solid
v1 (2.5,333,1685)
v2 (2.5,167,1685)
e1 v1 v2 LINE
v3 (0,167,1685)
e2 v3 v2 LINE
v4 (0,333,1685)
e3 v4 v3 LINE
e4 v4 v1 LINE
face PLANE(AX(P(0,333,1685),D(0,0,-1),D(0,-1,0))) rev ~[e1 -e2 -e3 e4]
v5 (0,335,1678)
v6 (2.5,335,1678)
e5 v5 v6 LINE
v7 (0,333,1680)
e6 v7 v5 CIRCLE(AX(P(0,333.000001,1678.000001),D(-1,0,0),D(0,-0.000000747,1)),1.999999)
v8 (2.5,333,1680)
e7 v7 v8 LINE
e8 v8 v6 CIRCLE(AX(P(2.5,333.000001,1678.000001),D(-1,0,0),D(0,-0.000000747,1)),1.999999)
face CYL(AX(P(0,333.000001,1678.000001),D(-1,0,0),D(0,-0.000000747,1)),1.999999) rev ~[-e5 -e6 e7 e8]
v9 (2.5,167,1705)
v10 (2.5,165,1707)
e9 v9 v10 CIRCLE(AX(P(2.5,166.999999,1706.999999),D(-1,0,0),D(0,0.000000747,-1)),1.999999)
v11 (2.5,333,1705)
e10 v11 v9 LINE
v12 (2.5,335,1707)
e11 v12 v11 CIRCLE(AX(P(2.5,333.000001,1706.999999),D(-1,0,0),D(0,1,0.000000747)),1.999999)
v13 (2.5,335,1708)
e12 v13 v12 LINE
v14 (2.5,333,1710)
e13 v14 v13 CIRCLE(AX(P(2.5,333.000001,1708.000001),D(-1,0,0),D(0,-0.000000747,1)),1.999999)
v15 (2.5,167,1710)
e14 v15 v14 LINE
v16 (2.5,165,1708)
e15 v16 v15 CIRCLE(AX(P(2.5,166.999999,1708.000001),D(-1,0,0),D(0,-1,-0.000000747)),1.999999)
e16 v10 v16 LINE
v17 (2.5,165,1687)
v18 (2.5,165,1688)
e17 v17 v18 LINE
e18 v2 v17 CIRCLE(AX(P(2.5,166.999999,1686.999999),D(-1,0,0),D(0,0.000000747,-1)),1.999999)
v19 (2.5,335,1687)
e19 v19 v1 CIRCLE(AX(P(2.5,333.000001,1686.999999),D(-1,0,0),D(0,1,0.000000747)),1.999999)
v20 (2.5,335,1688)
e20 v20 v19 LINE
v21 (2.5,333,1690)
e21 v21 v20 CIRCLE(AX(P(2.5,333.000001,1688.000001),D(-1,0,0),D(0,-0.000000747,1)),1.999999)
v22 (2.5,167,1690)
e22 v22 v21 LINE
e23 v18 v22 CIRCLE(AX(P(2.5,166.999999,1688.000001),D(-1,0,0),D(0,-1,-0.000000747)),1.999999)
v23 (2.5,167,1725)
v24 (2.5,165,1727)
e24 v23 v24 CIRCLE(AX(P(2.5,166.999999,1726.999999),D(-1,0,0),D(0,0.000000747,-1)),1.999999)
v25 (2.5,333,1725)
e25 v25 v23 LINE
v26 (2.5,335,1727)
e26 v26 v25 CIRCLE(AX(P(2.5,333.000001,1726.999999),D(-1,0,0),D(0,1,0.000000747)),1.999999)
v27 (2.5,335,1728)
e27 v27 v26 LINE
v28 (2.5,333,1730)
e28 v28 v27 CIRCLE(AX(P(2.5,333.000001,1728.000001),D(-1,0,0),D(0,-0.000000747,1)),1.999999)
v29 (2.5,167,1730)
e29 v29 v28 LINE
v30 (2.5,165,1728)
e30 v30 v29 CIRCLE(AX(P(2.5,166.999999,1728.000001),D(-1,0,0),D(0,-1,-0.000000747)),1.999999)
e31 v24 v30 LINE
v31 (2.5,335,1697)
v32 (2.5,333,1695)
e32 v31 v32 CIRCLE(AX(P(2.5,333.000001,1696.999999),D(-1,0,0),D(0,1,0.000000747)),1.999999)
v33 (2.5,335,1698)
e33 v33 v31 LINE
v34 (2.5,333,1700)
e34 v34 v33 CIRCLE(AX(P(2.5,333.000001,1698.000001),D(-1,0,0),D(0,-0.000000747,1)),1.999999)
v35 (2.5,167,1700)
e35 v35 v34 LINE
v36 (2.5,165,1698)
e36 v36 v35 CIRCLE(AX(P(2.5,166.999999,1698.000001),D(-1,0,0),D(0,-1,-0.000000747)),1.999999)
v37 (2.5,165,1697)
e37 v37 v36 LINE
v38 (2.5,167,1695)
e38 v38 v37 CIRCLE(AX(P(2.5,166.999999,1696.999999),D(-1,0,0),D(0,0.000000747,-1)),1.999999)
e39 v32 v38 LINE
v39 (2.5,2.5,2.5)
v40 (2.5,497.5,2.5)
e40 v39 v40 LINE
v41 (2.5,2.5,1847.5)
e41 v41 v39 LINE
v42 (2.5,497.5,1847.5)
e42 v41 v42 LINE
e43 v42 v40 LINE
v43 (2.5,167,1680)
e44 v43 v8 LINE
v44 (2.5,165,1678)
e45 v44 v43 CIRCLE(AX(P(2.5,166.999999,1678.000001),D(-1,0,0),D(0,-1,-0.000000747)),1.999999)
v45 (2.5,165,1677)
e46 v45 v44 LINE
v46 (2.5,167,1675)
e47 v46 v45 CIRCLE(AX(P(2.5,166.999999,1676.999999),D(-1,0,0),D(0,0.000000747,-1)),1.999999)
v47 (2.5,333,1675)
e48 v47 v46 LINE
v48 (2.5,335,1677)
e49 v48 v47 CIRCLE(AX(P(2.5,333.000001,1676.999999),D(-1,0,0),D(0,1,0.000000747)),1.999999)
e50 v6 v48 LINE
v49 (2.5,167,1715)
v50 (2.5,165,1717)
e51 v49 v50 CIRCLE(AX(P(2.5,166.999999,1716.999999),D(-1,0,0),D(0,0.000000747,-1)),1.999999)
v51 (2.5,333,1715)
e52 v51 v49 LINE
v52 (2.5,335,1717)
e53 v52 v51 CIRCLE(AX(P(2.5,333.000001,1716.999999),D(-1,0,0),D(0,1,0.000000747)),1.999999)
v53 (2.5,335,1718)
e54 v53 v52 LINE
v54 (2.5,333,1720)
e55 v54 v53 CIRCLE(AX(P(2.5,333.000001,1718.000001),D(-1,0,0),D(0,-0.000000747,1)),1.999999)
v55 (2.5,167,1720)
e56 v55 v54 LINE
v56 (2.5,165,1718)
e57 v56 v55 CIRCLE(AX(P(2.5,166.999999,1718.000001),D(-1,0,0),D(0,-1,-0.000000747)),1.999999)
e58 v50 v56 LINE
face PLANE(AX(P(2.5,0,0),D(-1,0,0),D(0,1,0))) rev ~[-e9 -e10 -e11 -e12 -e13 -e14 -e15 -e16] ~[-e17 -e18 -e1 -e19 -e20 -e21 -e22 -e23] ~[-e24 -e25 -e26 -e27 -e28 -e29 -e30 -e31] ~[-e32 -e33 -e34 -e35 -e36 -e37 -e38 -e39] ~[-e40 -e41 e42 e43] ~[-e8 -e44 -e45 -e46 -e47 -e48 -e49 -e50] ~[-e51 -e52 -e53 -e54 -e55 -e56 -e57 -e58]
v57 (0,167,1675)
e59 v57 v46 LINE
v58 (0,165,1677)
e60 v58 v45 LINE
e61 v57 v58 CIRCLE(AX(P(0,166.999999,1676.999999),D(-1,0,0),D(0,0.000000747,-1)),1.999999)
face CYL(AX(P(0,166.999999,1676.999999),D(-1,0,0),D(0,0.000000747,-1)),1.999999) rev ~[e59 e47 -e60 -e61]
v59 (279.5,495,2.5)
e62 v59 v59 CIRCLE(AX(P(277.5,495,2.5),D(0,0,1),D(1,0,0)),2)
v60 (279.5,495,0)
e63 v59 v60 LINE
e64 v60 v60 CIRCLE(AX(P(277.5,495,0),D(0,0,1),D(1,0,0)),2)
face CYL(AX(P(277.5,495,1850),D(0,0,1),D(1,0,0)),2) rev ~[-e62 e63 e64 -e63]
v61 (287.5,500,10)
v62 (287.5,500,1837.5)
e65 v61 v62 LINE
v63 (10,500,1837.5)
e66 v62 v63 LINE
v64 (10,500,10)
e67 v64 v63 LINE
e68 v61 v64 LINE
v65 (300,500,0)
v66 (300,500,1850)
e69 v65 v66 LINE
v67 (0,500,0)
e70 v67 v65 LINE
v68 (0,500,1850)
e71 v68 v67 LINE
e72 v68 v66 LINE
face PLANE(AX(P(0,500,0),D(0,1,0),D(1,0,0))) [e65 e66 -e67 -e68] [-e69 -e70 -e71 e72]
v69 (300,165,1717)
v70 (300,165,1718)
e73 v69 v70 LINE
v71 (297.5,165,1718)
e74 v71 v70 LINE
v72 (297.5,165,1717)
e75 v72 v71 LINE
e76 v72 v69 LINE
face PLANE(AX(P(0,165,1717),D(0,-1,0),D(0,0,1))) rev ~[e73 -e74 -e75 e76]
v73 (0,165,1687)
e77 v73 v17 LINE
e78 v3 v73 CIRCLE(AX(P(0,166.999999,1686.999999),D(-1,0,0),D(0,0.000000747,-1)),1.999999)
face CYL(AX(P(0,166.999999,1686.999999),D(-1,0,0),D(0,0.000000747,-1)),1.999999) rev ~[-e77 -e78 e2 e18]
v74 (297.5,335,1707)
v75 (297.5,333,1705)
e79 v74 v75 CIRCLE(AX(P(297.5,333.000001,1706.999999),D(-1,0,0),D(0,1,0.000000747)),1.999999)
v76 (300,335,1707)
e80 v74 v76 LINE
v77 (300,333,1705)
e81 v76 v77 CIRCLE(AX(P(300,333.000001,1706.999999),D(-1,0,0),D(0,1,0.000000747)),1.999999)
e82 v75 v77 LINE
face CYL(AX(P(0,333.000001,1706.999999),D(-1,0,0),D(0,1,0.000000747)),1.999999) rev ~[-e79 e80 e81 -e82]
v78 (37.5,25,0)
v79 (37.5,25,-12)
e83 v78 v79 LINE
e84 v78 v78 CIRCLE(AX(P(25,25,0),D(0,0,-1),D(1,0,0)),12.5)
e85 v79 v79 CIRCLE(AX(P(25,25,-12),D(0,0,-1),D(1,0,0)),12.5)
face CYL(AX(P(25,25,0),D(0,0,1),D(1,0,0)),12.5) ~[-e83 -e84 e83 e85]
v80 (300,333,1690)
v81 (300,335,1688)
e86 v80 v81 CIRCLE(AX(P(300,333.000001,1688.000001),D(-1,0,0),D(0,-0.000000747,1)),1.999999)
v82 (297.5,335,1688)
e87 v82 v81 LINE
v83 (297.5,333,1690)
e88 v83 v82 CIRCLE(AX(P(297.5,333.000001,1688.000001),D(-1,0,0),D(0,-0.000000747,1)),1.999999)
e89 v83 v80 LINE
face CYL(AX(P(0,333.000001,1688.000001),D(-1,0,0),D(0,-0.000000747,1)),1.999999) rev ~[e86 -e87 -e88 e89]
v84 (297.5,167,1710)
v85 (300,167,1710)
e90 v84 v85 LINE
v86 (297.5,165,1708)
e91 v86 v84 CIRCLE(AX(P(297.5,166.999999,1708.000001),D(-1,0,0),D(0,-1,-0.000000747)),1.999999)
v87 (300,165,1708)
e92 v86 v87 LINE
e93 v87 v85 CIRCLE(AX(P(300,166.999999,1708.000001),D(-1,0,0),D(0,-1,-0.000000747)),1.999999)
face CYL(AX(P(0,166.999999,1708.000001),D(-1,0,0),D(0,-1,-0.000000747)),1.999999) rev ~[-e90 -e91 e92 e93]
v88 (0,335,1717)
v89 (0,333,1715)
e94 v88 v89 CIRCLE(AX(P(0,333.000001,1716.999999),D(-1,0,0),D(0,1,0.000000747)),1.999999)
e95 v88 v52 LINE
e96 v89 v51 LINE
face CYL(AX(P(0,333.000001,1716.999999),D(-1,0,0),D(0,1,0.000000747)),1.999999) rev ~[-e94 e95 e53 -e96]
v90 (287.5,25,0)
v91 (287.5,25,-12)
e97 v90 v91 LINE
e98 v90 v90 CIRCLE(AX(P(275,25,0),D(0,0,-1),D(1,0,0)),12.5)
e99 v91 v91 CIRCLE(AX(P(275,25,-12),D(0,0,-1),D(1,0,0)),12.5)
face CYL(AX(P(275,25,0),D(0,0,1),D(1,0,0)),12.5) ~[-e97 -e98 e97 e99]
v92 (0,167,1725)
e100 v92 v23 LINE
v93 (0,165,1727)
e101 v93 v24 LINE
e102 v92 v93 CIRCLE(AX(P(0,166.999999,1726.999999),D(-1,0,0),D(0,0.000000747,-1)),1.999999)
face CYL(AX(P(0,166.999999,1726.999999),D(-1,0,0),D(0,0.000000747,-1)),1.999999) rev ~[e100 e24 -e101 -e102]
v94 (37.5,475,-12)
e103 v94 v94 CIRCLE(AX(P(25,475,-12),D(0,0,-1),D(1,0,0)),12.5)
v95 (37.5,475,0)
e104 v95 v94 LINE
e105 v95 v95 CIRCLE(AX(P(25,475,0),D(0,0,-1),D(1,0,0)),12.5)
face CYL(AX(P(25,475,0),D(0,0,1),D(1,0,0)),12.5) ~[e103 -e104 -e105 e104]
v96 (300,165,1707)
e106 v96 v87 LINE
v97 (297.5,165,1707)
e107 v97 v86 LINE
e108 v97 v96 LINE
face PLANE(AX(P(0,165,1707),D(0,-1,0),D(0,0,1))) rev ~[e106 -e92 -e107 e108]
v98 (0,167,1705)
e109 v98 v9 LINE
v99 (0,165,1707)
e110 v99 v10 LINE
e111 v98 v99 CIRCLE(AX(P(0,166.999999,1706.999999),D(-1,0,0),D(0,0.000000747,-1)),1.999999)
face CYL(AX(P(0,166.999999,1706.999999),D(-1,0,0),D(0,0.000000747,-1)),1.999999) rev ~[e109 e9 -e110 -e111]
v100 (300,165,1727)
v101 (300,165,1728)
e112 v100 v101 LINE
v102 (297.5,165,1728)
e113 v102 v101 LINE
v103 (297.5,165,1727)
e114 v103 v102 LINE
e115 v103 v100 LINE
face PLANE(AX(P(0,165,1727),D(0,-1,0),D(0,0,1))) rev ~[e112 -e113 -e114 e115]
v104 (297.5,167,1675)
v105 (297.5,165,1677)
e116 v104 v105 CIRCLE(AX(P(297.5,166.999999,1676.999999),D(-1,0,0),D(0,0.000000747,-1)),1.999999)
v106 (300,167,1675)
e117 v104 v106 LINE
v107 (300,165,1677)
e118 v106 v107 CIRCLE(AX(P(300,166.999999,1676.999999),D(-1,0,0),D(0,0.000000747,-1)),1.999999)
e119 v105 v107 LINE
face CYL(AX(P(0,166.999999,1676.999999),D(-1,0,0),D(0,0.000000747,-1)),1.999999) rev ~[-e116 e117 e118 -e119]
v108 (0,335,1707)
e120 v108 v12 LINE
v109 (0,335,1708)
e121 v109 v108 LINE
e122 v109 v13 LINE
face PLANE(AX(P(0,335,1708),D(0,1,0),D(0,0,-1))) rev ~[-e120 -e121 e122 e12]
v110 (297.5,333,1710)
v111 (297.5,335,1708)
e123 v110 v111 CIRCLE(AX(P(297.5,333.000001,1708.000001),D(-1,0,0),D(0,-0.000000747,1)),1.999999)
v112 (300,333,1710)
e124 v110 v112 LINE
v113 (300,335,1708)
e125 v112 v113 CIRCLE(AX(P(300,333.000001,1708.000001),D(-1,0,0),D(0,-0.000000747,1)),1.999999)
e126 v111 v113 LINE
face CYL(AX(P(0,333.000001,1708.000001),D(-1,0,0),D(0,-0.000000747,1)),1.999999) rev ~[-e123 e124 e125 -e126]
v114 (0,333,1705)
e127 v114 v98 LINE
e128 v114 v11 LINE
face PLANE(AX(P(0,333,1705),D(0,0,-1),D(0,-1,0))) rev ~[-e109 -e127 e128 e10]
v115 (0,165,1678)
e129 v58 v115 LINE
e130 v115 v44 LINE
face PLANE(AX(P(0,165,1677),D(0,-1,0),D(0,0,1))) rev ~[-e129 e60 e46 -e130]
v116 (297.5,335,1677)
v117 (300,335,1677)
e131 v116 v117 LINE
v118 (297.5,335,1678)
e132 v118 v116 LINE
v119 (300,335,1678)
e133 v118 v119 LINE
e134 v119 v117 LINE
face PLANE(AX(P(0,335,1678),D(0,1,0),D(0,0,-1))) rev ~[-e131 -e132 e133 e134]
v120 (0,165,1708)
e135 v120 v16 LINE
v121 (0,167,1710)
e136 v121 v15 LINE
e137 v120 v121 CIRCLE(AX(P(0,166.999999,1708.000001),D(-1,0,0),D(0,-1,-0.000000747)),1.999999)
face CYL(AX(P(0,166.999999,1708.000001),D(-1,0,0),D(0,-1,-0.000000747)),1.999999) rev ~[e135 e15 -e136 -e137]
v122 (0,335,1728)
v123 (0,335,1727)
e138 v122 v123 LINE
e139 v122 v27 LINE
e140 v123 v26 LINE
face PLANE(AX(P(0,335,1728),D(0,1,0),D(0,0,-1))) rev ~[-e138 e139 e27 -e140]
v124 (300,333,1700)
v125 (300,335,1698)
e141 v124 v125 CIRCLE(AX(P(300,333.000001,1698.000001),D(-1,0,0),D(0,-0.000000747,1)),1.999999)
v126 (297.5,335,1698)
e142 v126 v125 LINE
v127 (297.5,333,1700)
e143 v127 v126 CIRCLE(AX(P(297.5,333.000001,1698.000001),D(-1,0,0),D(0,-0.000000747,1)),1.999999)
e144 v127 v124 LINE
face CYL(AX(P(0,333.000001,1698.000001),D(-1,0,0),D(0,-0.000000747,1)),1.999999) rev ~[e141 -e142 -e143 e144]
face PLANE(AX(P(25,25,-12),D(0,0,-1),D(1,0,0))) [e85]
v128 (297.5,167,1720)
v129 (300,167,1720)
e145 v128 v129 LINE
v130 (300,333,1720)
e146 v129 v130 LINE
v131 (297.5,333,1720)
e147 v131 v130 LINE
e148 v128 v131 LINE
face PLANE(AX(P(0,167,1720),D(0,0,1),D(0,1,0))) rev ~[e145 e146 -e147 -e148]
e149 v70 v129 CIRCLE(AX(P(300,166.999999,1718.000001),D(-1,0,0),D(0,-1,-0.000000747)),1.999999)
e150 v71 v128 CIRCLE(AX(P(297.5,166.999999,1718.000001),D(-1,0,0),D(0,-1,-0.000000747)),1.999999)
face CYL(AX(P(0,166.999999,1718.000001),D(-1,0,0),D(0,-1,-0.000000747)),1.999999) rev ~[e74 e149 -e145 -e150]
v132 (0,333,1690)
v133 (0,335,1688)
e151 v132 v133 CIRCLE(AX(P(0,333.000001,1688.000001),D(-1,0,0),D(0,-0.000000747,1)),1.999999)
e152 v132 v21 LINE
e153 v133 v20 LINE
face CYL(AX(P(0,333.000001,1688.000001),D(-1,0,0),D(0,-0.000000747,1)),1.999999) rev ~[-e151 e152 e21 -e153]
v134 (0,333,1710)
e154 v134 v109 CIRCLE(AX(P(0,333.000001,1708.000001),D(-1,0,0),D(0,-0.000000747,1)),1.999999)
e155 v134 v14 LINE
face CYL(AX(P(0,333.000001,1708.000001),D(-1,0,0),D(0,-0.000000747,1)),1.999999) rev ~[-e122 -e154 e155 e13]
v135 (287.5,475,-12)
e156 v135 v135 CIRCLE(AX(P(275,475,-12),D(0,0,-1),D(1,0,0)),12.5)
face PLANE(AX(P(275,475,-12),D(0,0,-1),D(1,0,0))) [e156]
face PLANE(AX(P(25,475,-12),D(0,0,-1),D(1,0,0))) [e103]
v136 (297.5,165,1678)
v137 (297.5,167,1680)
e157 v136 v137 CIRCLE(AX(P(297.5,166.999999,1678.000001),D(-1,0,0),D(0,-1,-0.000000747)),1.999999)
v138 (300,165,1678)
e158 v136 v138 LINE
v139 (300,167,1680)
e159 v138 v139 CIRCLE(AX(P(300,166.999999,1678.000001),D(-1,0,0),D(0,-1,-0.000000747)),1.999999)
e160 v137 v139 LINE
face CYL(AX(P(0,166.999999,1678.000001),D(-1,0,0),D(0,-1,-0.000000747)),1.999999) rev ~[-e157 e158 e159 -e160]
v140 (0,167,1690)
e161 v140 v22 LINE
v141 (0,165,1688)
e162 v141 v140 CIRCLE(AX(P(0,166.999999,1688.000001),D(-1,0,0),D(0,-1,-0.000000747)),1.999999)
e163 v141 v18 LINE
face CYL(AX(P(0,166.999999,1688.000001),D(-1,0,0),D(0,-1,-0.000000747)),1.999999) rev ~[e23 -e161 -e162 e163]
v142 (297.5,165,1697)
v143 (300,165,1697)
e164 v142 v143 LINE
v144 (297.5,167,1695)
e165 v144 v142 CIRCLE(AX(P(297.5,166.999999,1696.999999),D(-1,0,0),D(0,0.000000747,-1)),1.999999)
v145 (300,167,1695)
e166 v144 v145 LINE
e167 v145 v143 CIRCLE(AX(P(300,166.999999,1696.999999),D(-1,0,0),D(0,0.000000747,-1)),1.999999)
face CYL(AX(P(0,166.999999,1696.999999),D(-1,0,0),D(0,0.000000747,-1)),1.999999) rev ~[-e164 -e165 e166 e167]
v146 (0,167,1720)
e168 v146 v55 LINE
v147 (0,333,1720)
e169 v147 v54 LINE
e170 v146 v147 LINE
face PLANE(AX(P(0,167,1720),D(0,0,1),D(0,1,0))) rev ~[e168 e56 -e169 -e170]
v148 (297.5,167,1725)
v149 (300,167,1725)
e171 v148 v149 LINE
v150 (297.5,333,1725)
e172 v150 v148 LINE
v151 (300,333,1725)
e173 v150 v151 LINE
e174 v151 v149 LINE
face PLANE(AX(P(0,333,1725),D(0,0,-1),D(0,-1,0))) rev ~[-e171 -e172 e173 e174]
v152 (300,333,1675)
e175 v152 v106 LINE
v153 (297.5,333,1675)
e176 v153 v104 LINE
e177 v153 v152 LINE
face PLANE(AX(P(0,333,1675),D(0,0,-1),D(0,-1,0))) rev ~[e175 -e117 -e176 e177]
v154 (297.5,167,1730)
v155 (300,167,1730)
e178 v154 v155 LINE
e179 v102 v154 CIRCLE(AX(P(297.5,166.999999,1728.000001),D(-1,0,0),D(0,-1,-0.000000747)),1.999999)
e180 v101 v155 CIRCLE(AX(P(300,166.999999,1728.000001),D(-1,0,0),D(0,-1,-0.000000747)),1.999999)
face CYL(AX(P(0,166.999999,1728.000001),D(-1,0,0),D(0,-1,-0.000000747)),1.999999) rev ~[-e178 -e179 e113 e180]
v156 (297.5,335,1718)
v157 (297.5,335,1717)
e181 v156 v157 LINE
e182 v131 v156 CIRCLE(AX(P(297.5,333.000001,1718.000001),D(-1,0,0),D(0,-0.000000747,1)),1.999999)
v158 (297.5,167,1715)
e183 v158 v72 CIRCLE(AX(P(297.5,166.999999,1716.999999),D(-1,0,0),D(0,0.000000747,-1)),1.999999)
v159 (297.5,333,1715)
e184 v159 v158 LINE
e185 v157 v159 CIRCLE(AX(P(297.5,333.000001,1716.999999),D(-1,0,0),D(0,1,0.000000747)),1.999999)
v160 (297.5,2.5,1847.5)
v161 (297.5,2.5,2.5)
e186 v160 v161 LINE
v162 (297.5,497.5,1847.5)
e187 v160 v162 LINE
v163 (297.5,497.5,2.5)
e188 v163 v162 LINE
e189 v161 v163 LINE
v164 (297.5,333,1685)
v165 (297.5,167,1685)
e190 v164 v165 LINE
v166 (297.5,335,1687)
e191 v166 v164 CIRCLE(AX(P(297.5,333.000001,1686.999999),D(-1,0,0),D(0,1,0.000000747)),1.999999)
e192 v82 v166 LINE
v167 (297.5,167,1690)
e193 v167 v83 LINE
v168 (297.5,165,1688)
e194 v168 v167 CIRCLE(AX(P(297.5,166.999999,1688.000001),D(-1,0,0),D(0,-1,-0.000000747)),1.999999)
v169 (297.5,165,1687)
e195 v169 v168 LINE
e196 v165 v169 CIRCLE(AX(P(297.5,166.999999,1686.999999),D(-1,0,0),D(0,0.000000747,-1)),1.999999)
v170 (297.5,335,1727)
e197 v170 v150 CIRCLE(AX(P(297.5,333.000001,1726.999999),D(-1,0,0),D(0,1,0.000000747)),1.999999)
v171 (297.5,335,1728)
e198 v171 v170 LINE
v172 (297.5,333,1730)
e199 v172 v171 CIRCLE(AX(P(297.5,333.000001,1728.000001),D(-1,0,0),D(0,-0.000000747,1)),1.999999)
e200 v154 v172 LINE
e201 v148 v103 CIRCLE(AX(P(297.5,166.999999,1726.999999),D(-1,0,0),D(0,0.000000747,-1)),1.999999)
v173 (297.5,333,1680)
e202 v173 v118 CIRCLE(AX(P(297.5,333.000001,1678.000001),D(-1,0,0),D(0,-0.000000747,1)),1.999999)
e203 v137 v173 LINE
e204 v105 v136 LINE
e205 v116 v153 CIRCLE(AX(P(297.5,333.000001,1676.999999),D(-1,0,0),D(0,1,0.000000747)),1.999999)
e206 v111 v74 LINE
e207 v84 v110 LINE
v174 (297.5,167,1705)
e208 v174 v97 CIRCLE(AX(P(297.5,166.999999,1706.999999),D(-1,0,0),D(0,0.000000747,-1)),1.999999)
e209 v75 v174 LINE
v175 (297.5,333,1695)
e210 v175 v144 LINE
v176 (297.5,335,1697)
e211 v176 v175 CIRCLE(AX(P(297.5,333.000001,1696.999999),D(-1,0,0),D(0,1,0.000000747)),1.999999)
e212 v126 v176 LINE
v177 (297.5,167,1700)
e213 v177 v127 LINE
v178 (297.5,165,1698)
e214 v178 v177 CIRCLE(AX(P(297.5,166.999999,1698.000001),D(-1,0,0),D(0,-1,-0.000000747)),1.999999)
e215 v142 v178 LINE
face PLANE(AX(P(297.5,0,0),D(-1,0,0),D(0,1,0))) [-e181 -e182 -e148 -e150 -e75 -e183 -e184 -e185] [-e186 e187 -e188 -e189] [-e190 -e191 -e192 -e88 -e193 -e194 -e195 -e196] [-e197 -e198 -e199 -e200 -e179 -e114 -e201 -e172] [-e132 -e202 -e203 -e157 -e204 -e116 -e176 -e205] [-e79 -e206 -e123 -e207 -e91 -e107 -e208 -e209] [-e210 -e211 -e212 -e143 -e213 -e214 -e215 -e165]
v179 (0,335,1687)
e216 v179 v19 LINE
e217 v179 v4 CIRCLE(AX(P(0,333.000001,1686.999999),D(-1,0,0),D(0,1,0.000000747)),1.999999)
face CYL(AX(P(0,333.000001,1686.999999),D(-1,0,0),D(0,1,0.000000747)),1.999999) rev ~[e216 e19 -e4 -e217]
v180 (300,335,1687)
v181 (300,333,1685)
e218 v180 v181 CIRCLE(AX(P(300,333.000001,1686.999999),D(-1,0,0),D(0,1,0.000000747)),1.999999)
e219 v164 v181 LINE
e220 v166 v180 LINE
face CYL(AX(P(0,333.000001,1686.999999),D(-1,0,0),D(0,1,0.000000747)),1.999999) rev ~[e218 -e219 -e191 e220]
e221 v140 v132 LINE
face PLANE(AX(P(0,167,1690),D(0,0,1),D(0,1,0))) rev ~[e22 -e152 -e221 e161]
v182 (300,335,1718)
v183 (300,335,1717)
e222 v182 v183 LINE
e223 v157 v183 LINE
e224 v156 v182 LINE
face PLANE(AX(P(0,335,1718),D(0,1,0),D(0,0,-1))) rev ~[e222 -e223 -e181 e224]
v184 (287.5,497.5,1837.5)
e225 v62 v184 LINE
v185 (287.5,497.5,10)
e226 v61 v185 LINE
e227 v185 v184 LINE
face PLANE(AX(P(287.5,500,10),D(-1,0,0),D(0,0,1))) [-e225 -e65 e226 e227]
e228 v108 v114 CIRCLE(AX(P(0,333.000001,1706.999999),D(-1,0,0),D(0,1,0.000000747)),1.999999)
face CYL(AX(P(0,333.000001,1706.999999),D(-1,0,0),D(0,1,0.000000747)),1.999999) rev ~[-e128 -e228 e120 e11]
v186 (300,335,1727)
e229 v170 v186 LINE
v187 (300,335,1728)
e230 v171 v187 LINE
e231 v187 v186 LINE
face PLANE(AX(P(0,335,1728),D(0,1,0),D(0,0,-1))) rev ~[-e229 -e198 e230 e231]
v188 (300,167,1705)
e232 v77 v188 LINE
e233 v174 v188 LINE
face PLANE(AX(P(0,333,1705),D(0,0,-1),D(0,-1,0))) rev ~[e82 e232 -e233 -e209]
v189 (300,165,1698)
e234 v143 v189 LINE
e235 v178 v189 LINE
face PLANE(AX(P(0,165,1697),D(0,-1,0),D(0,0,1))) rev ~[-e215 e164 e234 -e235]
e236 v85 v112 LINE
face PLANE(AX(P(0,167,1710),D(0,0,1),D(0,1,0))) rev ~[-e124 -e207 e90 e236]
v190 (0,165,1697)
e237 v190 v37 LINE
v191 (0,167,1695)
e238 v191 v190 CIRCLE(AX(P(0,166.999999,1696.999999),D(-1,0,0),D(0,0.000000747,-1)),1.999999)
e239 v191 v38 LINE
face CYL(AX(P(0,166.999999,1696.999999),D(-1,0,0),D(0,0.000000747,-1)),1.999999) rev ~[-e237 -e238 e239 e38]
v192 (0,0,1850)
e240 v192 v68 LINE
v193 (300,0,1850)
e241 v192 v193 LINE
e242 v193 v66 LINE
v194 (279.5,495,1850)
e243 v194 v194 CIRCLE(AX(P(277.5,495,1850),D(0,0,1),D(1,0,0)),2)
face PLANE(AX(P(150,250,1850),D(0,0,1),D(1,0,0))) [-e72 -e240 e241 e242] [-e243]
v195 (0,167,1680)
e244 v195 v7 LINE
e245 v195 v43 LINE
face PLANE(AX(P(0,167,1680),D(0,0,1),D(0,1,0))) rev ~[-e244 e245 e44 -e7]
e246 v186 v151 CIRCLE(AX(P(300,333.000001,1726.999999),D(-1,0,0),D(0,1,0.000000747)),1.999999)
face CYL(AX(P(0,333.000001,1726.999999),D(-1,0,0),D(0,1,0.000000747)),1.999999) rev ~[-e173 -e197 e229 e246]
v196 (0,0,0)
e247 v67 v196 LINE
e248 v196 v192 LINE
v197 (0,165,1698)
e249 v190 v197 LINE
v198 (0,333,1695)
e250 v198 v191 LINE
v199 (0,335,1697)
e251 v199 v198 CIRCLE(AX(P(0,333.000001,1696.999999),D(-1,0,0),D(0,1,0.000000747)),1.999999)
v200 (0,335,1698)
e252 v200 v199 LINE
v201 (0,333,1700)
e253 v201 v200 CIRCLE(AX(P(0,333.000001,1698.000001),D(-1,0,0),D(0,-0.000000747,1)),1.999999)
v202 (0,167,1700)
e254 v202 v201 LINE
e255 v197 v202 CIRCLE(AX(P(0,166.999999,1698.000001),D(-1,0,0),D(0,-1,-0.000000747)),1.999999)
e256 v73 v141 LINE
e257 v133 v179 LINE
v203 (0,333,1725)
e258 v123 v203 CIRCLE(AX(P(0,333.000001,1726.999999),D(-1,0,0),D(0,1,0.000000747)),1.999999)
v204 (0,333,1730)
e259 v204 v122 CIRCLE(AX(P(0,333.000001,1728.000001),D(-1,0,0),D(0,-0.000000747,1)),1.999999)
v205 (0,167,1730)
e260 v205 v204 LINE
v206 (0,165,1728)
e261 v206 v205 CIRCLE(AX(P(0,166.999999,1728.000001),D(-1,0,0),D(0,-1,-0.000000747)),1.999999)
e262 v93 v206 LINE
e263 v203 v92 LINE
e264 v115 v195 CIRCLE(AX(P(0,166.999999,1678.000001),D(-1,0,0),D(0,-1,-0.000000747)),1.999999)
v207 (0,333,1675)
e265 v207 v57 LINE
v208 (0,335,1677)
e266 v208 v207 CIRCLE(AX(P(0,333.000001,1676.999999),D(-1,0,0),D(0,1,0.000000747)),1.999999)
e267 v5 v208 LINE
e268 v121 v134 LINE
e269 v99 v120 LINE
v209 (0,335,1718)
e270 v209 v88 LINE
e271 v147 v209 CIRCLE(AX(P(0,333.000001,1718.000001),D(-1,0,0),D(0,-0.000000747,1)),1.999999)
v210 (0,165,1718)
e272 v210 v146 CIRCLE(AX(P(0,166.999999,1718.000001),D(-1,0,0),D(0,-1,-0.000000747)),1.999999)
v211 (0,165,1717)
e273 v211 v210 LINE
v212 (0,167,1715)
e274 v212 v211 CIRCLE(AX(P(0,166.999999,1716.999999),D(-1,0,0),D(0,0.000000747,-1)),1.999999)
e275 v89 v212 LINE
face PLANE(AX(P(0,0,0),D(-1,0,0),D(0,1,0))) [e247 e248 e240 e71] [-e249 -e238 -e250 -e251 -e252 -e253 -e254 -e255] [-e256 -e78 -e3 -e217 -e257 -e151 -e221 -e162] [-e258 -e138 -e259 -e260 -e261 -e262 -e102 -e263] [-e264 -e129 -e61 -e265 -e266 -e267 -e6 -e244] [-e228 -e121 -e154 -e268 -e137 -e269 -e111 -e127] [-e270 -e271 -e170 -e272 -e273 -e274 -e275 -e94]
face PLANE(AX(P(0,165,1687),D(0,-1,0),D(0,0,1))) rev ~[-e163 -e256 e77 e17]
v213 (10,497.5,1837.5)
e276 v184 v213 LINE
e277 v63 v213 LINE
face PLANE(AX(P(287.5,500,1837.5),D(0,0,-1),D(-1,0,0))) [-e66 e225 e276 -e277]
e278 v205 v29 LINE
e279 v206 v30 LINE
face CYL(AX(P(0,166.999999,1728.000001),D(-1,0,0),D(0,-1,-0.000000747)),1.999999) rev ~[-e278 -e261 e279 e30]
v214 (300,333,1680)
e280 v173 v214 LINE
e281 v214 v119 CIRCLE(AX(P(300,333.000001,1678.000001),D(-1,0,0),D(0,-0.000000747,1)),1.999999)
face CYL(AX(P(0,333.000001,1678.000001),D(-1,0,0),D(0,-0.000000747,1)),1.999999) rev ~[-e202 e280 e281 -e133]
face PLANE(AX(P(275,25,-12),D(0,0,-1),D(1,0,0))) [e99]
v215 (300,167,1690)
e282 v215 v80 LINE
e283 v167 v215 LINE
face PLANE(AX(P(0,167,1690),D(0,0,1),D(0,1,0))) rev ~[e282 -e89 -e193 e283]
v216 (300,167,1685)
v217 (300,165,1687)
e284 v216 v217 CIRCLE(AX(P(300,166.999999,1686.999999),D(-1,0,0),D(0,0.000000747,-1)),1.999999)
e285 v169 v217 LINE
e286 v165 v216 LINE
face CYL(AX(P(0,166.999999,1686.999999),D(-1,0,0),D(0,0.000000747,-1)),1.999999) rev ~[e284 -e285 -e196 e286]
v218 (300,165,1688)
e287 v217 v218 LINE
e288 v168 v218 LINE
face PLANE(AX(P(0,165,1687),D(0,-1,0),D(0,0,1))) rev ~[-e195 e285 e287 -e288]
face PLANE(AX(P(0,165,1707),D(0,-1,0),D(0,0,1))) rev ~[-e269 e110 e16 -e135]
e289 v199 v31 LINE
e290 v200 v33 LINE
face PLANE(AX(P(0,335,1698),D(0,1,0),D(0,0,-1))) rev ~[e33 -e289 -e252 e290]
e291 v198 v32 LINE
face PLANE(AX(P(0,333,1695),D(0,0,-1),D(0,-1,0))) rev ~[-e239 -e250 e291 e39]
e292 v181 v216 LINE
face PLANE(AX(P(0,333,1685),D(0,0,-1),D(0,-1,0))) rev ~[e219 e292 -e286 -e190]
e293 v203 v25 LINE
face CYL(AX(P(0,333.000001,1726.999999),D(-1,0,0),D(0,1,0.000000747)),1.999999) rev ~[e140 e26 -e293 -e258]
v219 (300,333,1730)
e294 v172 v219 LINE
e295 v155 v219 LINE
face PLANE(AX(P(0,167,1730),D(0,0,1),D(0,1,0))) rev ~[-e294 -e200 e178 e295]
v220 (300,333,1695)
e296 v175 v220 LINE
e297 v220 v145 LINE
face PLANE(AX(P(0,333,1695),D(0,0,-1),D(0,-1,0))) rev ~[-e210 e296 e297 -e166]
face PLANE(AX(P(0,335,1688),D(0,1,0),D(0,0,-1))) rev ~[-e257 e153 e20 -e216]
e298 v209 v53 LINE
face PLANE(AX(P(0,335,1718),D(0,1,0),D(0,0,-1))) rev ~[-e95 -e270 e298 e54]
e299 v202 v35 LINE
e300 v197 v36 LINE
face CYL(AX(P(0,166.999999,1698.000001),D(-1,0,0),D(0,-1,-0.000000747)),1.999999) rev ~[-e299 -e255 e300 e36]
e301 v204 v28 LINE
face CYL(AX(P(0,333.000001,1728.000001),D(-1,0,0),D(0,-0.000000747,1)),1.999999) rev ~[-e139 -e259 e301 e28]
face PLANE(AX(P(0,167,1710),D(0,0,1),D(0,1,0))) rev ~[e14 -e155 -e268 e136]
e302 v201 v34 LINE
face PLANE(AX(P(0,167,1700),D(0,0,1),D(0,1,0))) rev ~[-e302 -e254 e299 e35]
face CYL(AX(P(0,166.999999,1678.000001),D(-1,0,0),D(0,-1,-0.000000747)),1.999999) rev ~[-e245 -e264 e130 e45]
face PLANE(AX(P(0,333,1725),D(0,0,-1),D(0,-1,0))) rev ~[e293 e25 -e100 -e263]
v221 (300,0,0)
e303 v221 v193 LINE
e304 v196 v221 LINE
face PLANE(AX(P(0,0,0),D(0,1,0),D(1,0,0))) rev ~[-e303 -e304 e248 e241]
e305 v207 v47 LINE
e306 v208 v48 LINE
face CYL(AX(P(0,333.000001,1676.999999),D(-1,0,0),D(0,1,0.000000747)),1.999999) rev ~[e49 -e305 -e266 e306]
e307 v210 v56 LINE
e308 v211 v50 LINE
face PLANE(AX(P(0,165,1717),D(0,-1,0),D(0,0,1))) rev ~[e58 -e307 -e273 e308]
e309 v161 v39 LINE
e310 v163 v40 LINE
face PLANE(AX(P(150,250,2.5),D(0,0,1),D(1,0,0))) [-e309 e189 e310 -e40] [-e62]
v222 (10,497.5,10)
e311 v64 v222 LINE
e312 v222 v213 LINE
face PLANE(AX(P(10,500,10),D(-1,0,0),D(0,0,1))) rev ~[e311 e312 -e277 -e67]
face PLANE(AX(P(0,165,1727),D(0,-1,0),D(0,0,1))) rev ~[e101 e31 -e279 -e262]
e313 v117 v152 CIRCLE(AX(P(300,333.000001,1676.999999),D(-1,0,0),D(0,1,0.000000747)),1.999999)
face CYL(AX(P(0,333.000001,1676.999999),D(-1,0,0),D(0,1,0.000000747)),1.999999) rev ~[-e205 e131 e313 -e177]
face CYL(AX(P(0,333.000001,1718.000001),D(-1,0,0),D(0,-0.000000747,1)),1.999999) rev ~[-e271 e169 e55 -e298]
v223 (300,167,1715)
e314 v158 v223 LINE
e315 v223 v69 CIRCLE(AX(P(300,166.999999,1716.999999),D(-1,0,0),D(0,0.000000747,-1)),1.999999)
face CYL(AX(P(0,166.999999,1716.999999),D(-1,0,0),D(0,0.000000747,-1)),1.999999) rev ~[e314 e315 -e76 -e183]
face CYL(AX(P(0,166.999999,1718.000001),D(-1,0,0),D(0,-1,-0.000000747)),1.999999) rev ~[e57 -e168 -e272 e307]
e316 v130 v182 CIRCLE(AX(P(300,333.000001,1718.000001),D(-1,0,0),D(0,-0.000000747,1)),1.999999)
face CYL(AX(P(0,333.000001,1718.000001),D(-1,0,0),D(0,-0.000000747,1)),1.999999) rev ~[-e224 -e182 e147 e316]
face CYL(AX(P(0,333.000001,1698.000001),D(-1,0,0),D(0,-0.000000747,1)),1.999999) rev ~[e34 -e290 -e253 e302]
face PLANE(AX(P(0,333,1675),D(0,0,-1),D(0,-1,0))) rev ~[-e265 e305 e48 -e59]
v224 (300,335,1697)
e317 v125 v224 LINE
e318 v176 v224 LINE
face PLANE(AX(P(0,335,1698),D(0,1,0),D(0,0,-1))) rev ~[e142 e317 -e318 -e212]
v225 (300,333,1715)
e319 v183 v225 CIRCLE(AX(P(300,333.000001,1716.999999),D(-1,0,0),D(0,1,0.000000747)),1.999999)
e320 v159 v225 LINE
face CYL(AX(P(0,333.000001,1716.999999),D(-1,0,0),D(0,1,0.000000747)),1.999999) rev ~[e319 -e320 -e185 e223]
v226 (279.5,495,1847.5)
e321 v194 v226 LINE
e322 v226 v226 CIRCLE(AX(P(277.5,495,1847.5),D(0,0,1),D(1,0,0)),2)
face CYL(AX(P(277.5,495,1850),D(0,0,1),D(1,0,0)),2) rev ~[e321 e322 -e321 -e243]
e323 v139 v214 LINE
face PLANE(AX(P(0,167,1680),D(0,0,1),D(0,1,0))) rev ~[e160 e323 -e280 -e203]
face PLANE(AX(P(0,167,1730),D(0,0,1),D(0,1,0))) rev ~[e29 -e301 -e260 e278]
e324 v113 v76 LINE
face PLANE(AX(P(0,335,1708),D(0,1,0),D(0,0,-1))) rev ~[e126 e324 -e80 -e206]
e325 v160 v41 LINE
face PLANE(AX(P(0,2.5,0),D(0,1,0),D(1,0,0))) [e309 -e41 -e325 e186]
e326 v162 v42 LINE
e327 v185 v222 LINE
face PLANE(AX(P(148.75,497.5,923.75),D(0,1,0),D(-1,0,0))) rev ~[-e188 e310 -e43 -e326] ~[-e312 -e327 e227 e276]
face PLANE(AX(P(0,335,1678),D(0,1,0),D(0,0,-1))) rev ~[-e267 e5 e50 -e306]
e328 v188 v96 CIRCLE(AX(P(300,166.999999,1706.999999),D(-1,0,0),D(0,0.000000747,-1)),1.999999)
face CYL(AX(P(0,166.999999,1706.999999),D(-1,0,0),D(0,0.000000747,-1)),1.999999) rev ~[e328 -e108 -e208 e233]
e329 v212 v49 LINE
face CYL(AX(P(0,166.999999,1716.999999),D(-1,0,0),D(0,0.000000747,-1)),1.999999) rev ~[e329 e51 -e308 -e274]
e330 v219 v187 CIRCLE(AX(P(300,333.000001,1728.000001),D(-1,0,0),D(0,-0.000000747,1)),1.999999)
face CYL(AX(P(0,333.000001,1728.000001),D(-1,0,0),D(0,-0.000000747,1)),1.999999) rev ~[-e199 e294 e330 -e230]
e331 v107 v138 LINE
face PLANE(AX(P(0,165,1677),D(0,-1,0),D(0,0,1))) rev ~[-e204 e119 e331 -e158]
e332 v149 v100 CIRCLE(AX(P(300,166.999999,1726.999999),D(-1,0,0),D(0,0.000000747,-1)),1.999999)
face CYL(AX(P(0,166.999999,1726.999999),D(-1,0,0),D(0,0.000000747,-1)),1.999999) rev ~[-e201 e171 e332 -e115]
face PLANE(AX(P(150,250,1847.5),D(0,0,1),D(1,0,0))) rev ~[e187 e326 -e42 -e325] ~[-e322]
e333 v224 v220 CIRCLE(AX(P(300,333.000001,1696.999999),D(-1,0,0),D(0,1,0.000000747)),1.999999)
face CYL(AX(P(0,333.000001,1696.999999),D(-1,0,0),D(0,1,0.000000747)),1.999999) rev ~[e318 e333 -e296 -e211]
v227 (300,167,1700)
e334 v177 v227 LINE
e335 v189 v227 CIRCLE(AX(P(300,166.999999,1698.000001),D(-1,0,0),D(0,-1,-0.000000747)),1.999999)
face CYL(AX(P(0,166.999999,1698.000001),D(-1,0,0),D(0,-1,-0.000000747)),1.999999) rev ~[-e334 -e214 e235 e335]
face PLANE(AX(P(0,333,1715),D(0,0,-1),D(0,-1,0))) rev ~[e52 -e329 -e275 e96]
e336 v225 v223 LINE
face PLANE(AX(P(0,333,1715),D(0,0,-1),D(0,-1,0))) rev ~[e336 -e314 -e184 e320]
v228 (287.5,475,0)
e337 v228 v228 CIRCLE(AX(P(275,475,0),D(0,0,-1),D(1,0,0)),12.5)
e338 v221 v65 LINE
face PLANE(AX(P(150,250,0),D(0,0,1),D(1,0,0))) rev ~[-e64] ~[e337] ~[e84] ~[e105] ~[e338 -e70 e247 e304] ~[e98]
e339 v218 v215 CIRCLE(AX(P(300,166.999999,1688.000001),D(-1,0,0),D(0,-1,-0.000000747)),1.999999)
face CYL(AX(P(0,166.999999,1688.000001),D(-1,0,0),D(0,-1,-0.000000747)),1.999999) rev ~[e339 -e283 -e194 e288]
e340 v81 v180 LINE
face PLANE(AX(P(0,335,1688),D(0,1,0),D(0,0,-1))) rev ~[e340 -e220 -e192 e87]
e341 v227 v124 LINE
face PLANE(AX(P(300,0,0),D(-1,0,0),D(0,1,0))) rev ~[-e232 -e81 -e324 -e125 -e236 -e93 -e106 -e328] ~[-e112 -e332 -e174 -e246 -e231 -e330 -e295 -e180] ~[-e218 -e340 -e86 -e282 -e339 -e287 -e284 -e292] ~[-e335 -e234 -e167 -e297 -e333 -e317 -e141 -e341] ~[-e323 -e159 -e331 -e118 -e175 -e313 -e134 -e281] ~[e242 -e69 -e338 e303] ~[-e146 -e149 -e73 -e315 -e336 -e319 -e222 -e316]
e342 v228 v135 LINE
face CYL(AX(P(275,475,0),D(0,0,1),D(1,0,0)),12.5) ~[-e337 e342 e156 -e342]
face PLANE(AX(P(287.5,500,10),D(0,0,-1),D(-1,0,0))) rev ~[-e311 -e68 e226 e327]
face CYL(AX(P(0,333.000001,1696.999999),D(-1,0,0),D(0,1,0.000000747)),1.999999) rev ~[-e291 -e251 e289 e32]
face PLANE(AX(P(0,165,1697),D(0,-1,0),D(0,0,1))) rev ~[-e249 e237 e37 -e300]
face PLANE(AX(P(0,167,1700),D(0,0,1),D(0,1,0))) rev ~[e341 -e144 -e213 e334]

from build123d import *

# Parameters (mm, degrees)
F0_W      = 300
F0_H      = 500
F1_DEPTH  = 1850
F2_T      = -2.5
F3_W      = 297.5
F3_H      = 1847.5
F3_W_2    = 277.5
F3_H_2    = 1827.5
F4_DEPTH  = 2.5
F5_R      = 12.5
F6_DEPTH  = 12
F9_DEPTH  = 300.001
F7_R      = 2
F10_DEPTH = 1862.001


with BuildPart() as f1:
    # F0 (on Top) → F1 (new body)
    with BuildSketch(Plane.XY):
        with Locations((150, 250)):
            Rectangle(F0_W, F0_H)
    extrude(amount=F1_DEPTH)

    # F2
    f2_openings = [f1.faces().sort_by_distance(p)[0] for p in [
        (150, 500, 925),
    ]]
    offset(amount=F2_T, openings=f2_openings)

    # F3 (on face) → F4 (join)
    with BuildSketch(Plane(origin=(0, 500, 0), x_dir=(-1, 0, 0), z_dir=(0, 1, 0))):
        with Locations((-148.75, 923.75)):
            Rectangle(F3_W, F3_H)
        with Locations((-148.75, 923.75)):
            Rectangle(F3_W_2, F3_H_2, mode=Mode.SUBTRACT)
    extrude(amount=-F4_DEPTH)

    # F5 (on face) → F6 (join)
    with BuildSketch(Plane(origin=(0, 0, 0), x_dir=(1, 0, 0), z_dir=(0, 0, -1))):
        with Locations((25, -25)):
            Circle(F5_R)
        with Locations((25, -475)):
            Circle(F5_R)
        with Locations((275, -25)):
            Circle(F5_R)
        with Locations((275, -475)):
            Circle(F5_R)
    extrude(amount=F6_DEPTH)

    # F8 (on face) → F9 (cut, through all)
    with BuildSketch(Plane(origin=(0, 0, 0), x_dir=(0, -1, 0), z_dir=(-1, 0, 0))):
        with BuildLine():
            Line((-167, 1730), (-333, 1730))
            ThreePointArc((-333, 1730), (-334.414214, 1729.414214), (-335, 1728))
            Line((-335, 1728), (-335, 1727))
            ThreePointArc((-335, 1727), (-334.414214, 1725.585786), (-333, 1725))
            Line((-333, 1725), (-167, 1725))
            ThreePointArc((-167, 1725), (-165.585786, 1725.585786), (-165, 1727))
            Line((-165, 1727), (-165, 1728))
            ThreePointArc((-165, 1728), (-165.585786, 1729.414214), (-167, 1730))
        make_face()
        with BuildLine():
            ThreePointArc((-335, 1717), (-334.414214, 1715.585786), (-333, 1715))
            Line((-333, 1715), (-167, 1715))
            ThreePointArc((-167, 1715), (-165.585786, 1715.585786), (-165, 1717))
            Line((-165, 1717), (-165, 1718))
            ThreePointArc((-165, 1718), (-165.585786, 1719.414214), (-167, 1720))
            Line((-167, 1720), (-333, 1720))
            ThreePointArc((-333, 1720), (-334.414214, 1719.414214), (-335, 1718))
            Line((-335, 1718), (-335, 1717))
        make_face()
        with BuildLine():
            ThreePointArc((-335, 1707), (-334.414214, 1705.585786), (-333, 1705))
            Line((-333, 1705), (-167, 1705))
            ThreePointArc((-167, 1705), (-165.585786, 1705.585786), (-165, 1707))
            Line((-165, 1707), (-165, 1708))
            ThreePointArc((-165, 1708), (-165.585786, 1709.414214), (-167, 1710))
            Line((-167, 1710), (-333, 1710))
            ThreePointArc((-333, 1710), (-334.414214, 1709.414214), (-335, 1708))
            Line((-335, 1708), (-335, 1707))
        make_face()
        with BuildLine():
            ThreePointArc((-335, 1697), (-334.414214, 1695.585786), (-333, 1695))
            Line((-333, 1695), (-167, 1695))
            ThreePointArc((-167, 1695), (-165.585786, 1695.585786), (-165, 1697))
            Line((-165, 1697), (-165, 1698))
            ThreePointArc((-165, 1698), (-165.585786, 1699.414214), (-167, 1700))
            Line((-167, 1700), (-333, 1700))
            ThreePointArc((-333, 1700), (-334.414214, 1699.414214), (-335, 1698))
            Line((-335, 1698), (-335, 1697))
        make_face()
        with BuildLine():
            ThreePointArc((-335, 1687), (-334.414214, 1685.585786), (-333, 1685))
            Line((-333, 1685), (-167, 1685))
            ThreePointArc((-167, 1685), (-165.585786, 1685.585786), (-165, 1687))
            Line((-165, 1687), (-165, 1688))
            ThreePointArc((-165, 1688), (-165.585786, 1689.414214), (-167, 1690))
            Line((-167, 1690), (-333, 1690))
            ThreePointArc((-333, 1690), (-334.414214, 1689.414214), (-335, 1688))
            Line((-335, 1688), (-335, 1687))
        make_face()
        with BuildLine():
            ThreePointArc((-335, 1677), (-334.414214, 1675.585786), (-333, 1675))
            Line((-333, 1675), (-167, 1675))
            ThreePointArc((-167, 1675), (-165.585786, 1675.585786), (-165, 1677))
            Line((-165, 1677), (-165, 1678))
            ThreePointArc((-165, 1678), (-165.585786, 1679.414214), (-167, 1680))
            Line((-167, 1680), (-333, 1680))
            ThreePointArc((-333, 1680), (-334.414214, 1679.414214), (-335, 1678))
            Line((-335, 1678), (-335, 1677))
        make_face()
    extrude(amount=-F9_DEPTH, mode=Mode.SUBTRACT)

    # F7 (on face) → F10 (cut, through all)
    with BuildSketch(Plane.XY.offset(1850)):
        with Locations((277.5, 495)):
            Circle(F7_R)
    extrude(amount=-F10_DEPTH, mode=Mode.SUBTRACT)


solid = f1.part
